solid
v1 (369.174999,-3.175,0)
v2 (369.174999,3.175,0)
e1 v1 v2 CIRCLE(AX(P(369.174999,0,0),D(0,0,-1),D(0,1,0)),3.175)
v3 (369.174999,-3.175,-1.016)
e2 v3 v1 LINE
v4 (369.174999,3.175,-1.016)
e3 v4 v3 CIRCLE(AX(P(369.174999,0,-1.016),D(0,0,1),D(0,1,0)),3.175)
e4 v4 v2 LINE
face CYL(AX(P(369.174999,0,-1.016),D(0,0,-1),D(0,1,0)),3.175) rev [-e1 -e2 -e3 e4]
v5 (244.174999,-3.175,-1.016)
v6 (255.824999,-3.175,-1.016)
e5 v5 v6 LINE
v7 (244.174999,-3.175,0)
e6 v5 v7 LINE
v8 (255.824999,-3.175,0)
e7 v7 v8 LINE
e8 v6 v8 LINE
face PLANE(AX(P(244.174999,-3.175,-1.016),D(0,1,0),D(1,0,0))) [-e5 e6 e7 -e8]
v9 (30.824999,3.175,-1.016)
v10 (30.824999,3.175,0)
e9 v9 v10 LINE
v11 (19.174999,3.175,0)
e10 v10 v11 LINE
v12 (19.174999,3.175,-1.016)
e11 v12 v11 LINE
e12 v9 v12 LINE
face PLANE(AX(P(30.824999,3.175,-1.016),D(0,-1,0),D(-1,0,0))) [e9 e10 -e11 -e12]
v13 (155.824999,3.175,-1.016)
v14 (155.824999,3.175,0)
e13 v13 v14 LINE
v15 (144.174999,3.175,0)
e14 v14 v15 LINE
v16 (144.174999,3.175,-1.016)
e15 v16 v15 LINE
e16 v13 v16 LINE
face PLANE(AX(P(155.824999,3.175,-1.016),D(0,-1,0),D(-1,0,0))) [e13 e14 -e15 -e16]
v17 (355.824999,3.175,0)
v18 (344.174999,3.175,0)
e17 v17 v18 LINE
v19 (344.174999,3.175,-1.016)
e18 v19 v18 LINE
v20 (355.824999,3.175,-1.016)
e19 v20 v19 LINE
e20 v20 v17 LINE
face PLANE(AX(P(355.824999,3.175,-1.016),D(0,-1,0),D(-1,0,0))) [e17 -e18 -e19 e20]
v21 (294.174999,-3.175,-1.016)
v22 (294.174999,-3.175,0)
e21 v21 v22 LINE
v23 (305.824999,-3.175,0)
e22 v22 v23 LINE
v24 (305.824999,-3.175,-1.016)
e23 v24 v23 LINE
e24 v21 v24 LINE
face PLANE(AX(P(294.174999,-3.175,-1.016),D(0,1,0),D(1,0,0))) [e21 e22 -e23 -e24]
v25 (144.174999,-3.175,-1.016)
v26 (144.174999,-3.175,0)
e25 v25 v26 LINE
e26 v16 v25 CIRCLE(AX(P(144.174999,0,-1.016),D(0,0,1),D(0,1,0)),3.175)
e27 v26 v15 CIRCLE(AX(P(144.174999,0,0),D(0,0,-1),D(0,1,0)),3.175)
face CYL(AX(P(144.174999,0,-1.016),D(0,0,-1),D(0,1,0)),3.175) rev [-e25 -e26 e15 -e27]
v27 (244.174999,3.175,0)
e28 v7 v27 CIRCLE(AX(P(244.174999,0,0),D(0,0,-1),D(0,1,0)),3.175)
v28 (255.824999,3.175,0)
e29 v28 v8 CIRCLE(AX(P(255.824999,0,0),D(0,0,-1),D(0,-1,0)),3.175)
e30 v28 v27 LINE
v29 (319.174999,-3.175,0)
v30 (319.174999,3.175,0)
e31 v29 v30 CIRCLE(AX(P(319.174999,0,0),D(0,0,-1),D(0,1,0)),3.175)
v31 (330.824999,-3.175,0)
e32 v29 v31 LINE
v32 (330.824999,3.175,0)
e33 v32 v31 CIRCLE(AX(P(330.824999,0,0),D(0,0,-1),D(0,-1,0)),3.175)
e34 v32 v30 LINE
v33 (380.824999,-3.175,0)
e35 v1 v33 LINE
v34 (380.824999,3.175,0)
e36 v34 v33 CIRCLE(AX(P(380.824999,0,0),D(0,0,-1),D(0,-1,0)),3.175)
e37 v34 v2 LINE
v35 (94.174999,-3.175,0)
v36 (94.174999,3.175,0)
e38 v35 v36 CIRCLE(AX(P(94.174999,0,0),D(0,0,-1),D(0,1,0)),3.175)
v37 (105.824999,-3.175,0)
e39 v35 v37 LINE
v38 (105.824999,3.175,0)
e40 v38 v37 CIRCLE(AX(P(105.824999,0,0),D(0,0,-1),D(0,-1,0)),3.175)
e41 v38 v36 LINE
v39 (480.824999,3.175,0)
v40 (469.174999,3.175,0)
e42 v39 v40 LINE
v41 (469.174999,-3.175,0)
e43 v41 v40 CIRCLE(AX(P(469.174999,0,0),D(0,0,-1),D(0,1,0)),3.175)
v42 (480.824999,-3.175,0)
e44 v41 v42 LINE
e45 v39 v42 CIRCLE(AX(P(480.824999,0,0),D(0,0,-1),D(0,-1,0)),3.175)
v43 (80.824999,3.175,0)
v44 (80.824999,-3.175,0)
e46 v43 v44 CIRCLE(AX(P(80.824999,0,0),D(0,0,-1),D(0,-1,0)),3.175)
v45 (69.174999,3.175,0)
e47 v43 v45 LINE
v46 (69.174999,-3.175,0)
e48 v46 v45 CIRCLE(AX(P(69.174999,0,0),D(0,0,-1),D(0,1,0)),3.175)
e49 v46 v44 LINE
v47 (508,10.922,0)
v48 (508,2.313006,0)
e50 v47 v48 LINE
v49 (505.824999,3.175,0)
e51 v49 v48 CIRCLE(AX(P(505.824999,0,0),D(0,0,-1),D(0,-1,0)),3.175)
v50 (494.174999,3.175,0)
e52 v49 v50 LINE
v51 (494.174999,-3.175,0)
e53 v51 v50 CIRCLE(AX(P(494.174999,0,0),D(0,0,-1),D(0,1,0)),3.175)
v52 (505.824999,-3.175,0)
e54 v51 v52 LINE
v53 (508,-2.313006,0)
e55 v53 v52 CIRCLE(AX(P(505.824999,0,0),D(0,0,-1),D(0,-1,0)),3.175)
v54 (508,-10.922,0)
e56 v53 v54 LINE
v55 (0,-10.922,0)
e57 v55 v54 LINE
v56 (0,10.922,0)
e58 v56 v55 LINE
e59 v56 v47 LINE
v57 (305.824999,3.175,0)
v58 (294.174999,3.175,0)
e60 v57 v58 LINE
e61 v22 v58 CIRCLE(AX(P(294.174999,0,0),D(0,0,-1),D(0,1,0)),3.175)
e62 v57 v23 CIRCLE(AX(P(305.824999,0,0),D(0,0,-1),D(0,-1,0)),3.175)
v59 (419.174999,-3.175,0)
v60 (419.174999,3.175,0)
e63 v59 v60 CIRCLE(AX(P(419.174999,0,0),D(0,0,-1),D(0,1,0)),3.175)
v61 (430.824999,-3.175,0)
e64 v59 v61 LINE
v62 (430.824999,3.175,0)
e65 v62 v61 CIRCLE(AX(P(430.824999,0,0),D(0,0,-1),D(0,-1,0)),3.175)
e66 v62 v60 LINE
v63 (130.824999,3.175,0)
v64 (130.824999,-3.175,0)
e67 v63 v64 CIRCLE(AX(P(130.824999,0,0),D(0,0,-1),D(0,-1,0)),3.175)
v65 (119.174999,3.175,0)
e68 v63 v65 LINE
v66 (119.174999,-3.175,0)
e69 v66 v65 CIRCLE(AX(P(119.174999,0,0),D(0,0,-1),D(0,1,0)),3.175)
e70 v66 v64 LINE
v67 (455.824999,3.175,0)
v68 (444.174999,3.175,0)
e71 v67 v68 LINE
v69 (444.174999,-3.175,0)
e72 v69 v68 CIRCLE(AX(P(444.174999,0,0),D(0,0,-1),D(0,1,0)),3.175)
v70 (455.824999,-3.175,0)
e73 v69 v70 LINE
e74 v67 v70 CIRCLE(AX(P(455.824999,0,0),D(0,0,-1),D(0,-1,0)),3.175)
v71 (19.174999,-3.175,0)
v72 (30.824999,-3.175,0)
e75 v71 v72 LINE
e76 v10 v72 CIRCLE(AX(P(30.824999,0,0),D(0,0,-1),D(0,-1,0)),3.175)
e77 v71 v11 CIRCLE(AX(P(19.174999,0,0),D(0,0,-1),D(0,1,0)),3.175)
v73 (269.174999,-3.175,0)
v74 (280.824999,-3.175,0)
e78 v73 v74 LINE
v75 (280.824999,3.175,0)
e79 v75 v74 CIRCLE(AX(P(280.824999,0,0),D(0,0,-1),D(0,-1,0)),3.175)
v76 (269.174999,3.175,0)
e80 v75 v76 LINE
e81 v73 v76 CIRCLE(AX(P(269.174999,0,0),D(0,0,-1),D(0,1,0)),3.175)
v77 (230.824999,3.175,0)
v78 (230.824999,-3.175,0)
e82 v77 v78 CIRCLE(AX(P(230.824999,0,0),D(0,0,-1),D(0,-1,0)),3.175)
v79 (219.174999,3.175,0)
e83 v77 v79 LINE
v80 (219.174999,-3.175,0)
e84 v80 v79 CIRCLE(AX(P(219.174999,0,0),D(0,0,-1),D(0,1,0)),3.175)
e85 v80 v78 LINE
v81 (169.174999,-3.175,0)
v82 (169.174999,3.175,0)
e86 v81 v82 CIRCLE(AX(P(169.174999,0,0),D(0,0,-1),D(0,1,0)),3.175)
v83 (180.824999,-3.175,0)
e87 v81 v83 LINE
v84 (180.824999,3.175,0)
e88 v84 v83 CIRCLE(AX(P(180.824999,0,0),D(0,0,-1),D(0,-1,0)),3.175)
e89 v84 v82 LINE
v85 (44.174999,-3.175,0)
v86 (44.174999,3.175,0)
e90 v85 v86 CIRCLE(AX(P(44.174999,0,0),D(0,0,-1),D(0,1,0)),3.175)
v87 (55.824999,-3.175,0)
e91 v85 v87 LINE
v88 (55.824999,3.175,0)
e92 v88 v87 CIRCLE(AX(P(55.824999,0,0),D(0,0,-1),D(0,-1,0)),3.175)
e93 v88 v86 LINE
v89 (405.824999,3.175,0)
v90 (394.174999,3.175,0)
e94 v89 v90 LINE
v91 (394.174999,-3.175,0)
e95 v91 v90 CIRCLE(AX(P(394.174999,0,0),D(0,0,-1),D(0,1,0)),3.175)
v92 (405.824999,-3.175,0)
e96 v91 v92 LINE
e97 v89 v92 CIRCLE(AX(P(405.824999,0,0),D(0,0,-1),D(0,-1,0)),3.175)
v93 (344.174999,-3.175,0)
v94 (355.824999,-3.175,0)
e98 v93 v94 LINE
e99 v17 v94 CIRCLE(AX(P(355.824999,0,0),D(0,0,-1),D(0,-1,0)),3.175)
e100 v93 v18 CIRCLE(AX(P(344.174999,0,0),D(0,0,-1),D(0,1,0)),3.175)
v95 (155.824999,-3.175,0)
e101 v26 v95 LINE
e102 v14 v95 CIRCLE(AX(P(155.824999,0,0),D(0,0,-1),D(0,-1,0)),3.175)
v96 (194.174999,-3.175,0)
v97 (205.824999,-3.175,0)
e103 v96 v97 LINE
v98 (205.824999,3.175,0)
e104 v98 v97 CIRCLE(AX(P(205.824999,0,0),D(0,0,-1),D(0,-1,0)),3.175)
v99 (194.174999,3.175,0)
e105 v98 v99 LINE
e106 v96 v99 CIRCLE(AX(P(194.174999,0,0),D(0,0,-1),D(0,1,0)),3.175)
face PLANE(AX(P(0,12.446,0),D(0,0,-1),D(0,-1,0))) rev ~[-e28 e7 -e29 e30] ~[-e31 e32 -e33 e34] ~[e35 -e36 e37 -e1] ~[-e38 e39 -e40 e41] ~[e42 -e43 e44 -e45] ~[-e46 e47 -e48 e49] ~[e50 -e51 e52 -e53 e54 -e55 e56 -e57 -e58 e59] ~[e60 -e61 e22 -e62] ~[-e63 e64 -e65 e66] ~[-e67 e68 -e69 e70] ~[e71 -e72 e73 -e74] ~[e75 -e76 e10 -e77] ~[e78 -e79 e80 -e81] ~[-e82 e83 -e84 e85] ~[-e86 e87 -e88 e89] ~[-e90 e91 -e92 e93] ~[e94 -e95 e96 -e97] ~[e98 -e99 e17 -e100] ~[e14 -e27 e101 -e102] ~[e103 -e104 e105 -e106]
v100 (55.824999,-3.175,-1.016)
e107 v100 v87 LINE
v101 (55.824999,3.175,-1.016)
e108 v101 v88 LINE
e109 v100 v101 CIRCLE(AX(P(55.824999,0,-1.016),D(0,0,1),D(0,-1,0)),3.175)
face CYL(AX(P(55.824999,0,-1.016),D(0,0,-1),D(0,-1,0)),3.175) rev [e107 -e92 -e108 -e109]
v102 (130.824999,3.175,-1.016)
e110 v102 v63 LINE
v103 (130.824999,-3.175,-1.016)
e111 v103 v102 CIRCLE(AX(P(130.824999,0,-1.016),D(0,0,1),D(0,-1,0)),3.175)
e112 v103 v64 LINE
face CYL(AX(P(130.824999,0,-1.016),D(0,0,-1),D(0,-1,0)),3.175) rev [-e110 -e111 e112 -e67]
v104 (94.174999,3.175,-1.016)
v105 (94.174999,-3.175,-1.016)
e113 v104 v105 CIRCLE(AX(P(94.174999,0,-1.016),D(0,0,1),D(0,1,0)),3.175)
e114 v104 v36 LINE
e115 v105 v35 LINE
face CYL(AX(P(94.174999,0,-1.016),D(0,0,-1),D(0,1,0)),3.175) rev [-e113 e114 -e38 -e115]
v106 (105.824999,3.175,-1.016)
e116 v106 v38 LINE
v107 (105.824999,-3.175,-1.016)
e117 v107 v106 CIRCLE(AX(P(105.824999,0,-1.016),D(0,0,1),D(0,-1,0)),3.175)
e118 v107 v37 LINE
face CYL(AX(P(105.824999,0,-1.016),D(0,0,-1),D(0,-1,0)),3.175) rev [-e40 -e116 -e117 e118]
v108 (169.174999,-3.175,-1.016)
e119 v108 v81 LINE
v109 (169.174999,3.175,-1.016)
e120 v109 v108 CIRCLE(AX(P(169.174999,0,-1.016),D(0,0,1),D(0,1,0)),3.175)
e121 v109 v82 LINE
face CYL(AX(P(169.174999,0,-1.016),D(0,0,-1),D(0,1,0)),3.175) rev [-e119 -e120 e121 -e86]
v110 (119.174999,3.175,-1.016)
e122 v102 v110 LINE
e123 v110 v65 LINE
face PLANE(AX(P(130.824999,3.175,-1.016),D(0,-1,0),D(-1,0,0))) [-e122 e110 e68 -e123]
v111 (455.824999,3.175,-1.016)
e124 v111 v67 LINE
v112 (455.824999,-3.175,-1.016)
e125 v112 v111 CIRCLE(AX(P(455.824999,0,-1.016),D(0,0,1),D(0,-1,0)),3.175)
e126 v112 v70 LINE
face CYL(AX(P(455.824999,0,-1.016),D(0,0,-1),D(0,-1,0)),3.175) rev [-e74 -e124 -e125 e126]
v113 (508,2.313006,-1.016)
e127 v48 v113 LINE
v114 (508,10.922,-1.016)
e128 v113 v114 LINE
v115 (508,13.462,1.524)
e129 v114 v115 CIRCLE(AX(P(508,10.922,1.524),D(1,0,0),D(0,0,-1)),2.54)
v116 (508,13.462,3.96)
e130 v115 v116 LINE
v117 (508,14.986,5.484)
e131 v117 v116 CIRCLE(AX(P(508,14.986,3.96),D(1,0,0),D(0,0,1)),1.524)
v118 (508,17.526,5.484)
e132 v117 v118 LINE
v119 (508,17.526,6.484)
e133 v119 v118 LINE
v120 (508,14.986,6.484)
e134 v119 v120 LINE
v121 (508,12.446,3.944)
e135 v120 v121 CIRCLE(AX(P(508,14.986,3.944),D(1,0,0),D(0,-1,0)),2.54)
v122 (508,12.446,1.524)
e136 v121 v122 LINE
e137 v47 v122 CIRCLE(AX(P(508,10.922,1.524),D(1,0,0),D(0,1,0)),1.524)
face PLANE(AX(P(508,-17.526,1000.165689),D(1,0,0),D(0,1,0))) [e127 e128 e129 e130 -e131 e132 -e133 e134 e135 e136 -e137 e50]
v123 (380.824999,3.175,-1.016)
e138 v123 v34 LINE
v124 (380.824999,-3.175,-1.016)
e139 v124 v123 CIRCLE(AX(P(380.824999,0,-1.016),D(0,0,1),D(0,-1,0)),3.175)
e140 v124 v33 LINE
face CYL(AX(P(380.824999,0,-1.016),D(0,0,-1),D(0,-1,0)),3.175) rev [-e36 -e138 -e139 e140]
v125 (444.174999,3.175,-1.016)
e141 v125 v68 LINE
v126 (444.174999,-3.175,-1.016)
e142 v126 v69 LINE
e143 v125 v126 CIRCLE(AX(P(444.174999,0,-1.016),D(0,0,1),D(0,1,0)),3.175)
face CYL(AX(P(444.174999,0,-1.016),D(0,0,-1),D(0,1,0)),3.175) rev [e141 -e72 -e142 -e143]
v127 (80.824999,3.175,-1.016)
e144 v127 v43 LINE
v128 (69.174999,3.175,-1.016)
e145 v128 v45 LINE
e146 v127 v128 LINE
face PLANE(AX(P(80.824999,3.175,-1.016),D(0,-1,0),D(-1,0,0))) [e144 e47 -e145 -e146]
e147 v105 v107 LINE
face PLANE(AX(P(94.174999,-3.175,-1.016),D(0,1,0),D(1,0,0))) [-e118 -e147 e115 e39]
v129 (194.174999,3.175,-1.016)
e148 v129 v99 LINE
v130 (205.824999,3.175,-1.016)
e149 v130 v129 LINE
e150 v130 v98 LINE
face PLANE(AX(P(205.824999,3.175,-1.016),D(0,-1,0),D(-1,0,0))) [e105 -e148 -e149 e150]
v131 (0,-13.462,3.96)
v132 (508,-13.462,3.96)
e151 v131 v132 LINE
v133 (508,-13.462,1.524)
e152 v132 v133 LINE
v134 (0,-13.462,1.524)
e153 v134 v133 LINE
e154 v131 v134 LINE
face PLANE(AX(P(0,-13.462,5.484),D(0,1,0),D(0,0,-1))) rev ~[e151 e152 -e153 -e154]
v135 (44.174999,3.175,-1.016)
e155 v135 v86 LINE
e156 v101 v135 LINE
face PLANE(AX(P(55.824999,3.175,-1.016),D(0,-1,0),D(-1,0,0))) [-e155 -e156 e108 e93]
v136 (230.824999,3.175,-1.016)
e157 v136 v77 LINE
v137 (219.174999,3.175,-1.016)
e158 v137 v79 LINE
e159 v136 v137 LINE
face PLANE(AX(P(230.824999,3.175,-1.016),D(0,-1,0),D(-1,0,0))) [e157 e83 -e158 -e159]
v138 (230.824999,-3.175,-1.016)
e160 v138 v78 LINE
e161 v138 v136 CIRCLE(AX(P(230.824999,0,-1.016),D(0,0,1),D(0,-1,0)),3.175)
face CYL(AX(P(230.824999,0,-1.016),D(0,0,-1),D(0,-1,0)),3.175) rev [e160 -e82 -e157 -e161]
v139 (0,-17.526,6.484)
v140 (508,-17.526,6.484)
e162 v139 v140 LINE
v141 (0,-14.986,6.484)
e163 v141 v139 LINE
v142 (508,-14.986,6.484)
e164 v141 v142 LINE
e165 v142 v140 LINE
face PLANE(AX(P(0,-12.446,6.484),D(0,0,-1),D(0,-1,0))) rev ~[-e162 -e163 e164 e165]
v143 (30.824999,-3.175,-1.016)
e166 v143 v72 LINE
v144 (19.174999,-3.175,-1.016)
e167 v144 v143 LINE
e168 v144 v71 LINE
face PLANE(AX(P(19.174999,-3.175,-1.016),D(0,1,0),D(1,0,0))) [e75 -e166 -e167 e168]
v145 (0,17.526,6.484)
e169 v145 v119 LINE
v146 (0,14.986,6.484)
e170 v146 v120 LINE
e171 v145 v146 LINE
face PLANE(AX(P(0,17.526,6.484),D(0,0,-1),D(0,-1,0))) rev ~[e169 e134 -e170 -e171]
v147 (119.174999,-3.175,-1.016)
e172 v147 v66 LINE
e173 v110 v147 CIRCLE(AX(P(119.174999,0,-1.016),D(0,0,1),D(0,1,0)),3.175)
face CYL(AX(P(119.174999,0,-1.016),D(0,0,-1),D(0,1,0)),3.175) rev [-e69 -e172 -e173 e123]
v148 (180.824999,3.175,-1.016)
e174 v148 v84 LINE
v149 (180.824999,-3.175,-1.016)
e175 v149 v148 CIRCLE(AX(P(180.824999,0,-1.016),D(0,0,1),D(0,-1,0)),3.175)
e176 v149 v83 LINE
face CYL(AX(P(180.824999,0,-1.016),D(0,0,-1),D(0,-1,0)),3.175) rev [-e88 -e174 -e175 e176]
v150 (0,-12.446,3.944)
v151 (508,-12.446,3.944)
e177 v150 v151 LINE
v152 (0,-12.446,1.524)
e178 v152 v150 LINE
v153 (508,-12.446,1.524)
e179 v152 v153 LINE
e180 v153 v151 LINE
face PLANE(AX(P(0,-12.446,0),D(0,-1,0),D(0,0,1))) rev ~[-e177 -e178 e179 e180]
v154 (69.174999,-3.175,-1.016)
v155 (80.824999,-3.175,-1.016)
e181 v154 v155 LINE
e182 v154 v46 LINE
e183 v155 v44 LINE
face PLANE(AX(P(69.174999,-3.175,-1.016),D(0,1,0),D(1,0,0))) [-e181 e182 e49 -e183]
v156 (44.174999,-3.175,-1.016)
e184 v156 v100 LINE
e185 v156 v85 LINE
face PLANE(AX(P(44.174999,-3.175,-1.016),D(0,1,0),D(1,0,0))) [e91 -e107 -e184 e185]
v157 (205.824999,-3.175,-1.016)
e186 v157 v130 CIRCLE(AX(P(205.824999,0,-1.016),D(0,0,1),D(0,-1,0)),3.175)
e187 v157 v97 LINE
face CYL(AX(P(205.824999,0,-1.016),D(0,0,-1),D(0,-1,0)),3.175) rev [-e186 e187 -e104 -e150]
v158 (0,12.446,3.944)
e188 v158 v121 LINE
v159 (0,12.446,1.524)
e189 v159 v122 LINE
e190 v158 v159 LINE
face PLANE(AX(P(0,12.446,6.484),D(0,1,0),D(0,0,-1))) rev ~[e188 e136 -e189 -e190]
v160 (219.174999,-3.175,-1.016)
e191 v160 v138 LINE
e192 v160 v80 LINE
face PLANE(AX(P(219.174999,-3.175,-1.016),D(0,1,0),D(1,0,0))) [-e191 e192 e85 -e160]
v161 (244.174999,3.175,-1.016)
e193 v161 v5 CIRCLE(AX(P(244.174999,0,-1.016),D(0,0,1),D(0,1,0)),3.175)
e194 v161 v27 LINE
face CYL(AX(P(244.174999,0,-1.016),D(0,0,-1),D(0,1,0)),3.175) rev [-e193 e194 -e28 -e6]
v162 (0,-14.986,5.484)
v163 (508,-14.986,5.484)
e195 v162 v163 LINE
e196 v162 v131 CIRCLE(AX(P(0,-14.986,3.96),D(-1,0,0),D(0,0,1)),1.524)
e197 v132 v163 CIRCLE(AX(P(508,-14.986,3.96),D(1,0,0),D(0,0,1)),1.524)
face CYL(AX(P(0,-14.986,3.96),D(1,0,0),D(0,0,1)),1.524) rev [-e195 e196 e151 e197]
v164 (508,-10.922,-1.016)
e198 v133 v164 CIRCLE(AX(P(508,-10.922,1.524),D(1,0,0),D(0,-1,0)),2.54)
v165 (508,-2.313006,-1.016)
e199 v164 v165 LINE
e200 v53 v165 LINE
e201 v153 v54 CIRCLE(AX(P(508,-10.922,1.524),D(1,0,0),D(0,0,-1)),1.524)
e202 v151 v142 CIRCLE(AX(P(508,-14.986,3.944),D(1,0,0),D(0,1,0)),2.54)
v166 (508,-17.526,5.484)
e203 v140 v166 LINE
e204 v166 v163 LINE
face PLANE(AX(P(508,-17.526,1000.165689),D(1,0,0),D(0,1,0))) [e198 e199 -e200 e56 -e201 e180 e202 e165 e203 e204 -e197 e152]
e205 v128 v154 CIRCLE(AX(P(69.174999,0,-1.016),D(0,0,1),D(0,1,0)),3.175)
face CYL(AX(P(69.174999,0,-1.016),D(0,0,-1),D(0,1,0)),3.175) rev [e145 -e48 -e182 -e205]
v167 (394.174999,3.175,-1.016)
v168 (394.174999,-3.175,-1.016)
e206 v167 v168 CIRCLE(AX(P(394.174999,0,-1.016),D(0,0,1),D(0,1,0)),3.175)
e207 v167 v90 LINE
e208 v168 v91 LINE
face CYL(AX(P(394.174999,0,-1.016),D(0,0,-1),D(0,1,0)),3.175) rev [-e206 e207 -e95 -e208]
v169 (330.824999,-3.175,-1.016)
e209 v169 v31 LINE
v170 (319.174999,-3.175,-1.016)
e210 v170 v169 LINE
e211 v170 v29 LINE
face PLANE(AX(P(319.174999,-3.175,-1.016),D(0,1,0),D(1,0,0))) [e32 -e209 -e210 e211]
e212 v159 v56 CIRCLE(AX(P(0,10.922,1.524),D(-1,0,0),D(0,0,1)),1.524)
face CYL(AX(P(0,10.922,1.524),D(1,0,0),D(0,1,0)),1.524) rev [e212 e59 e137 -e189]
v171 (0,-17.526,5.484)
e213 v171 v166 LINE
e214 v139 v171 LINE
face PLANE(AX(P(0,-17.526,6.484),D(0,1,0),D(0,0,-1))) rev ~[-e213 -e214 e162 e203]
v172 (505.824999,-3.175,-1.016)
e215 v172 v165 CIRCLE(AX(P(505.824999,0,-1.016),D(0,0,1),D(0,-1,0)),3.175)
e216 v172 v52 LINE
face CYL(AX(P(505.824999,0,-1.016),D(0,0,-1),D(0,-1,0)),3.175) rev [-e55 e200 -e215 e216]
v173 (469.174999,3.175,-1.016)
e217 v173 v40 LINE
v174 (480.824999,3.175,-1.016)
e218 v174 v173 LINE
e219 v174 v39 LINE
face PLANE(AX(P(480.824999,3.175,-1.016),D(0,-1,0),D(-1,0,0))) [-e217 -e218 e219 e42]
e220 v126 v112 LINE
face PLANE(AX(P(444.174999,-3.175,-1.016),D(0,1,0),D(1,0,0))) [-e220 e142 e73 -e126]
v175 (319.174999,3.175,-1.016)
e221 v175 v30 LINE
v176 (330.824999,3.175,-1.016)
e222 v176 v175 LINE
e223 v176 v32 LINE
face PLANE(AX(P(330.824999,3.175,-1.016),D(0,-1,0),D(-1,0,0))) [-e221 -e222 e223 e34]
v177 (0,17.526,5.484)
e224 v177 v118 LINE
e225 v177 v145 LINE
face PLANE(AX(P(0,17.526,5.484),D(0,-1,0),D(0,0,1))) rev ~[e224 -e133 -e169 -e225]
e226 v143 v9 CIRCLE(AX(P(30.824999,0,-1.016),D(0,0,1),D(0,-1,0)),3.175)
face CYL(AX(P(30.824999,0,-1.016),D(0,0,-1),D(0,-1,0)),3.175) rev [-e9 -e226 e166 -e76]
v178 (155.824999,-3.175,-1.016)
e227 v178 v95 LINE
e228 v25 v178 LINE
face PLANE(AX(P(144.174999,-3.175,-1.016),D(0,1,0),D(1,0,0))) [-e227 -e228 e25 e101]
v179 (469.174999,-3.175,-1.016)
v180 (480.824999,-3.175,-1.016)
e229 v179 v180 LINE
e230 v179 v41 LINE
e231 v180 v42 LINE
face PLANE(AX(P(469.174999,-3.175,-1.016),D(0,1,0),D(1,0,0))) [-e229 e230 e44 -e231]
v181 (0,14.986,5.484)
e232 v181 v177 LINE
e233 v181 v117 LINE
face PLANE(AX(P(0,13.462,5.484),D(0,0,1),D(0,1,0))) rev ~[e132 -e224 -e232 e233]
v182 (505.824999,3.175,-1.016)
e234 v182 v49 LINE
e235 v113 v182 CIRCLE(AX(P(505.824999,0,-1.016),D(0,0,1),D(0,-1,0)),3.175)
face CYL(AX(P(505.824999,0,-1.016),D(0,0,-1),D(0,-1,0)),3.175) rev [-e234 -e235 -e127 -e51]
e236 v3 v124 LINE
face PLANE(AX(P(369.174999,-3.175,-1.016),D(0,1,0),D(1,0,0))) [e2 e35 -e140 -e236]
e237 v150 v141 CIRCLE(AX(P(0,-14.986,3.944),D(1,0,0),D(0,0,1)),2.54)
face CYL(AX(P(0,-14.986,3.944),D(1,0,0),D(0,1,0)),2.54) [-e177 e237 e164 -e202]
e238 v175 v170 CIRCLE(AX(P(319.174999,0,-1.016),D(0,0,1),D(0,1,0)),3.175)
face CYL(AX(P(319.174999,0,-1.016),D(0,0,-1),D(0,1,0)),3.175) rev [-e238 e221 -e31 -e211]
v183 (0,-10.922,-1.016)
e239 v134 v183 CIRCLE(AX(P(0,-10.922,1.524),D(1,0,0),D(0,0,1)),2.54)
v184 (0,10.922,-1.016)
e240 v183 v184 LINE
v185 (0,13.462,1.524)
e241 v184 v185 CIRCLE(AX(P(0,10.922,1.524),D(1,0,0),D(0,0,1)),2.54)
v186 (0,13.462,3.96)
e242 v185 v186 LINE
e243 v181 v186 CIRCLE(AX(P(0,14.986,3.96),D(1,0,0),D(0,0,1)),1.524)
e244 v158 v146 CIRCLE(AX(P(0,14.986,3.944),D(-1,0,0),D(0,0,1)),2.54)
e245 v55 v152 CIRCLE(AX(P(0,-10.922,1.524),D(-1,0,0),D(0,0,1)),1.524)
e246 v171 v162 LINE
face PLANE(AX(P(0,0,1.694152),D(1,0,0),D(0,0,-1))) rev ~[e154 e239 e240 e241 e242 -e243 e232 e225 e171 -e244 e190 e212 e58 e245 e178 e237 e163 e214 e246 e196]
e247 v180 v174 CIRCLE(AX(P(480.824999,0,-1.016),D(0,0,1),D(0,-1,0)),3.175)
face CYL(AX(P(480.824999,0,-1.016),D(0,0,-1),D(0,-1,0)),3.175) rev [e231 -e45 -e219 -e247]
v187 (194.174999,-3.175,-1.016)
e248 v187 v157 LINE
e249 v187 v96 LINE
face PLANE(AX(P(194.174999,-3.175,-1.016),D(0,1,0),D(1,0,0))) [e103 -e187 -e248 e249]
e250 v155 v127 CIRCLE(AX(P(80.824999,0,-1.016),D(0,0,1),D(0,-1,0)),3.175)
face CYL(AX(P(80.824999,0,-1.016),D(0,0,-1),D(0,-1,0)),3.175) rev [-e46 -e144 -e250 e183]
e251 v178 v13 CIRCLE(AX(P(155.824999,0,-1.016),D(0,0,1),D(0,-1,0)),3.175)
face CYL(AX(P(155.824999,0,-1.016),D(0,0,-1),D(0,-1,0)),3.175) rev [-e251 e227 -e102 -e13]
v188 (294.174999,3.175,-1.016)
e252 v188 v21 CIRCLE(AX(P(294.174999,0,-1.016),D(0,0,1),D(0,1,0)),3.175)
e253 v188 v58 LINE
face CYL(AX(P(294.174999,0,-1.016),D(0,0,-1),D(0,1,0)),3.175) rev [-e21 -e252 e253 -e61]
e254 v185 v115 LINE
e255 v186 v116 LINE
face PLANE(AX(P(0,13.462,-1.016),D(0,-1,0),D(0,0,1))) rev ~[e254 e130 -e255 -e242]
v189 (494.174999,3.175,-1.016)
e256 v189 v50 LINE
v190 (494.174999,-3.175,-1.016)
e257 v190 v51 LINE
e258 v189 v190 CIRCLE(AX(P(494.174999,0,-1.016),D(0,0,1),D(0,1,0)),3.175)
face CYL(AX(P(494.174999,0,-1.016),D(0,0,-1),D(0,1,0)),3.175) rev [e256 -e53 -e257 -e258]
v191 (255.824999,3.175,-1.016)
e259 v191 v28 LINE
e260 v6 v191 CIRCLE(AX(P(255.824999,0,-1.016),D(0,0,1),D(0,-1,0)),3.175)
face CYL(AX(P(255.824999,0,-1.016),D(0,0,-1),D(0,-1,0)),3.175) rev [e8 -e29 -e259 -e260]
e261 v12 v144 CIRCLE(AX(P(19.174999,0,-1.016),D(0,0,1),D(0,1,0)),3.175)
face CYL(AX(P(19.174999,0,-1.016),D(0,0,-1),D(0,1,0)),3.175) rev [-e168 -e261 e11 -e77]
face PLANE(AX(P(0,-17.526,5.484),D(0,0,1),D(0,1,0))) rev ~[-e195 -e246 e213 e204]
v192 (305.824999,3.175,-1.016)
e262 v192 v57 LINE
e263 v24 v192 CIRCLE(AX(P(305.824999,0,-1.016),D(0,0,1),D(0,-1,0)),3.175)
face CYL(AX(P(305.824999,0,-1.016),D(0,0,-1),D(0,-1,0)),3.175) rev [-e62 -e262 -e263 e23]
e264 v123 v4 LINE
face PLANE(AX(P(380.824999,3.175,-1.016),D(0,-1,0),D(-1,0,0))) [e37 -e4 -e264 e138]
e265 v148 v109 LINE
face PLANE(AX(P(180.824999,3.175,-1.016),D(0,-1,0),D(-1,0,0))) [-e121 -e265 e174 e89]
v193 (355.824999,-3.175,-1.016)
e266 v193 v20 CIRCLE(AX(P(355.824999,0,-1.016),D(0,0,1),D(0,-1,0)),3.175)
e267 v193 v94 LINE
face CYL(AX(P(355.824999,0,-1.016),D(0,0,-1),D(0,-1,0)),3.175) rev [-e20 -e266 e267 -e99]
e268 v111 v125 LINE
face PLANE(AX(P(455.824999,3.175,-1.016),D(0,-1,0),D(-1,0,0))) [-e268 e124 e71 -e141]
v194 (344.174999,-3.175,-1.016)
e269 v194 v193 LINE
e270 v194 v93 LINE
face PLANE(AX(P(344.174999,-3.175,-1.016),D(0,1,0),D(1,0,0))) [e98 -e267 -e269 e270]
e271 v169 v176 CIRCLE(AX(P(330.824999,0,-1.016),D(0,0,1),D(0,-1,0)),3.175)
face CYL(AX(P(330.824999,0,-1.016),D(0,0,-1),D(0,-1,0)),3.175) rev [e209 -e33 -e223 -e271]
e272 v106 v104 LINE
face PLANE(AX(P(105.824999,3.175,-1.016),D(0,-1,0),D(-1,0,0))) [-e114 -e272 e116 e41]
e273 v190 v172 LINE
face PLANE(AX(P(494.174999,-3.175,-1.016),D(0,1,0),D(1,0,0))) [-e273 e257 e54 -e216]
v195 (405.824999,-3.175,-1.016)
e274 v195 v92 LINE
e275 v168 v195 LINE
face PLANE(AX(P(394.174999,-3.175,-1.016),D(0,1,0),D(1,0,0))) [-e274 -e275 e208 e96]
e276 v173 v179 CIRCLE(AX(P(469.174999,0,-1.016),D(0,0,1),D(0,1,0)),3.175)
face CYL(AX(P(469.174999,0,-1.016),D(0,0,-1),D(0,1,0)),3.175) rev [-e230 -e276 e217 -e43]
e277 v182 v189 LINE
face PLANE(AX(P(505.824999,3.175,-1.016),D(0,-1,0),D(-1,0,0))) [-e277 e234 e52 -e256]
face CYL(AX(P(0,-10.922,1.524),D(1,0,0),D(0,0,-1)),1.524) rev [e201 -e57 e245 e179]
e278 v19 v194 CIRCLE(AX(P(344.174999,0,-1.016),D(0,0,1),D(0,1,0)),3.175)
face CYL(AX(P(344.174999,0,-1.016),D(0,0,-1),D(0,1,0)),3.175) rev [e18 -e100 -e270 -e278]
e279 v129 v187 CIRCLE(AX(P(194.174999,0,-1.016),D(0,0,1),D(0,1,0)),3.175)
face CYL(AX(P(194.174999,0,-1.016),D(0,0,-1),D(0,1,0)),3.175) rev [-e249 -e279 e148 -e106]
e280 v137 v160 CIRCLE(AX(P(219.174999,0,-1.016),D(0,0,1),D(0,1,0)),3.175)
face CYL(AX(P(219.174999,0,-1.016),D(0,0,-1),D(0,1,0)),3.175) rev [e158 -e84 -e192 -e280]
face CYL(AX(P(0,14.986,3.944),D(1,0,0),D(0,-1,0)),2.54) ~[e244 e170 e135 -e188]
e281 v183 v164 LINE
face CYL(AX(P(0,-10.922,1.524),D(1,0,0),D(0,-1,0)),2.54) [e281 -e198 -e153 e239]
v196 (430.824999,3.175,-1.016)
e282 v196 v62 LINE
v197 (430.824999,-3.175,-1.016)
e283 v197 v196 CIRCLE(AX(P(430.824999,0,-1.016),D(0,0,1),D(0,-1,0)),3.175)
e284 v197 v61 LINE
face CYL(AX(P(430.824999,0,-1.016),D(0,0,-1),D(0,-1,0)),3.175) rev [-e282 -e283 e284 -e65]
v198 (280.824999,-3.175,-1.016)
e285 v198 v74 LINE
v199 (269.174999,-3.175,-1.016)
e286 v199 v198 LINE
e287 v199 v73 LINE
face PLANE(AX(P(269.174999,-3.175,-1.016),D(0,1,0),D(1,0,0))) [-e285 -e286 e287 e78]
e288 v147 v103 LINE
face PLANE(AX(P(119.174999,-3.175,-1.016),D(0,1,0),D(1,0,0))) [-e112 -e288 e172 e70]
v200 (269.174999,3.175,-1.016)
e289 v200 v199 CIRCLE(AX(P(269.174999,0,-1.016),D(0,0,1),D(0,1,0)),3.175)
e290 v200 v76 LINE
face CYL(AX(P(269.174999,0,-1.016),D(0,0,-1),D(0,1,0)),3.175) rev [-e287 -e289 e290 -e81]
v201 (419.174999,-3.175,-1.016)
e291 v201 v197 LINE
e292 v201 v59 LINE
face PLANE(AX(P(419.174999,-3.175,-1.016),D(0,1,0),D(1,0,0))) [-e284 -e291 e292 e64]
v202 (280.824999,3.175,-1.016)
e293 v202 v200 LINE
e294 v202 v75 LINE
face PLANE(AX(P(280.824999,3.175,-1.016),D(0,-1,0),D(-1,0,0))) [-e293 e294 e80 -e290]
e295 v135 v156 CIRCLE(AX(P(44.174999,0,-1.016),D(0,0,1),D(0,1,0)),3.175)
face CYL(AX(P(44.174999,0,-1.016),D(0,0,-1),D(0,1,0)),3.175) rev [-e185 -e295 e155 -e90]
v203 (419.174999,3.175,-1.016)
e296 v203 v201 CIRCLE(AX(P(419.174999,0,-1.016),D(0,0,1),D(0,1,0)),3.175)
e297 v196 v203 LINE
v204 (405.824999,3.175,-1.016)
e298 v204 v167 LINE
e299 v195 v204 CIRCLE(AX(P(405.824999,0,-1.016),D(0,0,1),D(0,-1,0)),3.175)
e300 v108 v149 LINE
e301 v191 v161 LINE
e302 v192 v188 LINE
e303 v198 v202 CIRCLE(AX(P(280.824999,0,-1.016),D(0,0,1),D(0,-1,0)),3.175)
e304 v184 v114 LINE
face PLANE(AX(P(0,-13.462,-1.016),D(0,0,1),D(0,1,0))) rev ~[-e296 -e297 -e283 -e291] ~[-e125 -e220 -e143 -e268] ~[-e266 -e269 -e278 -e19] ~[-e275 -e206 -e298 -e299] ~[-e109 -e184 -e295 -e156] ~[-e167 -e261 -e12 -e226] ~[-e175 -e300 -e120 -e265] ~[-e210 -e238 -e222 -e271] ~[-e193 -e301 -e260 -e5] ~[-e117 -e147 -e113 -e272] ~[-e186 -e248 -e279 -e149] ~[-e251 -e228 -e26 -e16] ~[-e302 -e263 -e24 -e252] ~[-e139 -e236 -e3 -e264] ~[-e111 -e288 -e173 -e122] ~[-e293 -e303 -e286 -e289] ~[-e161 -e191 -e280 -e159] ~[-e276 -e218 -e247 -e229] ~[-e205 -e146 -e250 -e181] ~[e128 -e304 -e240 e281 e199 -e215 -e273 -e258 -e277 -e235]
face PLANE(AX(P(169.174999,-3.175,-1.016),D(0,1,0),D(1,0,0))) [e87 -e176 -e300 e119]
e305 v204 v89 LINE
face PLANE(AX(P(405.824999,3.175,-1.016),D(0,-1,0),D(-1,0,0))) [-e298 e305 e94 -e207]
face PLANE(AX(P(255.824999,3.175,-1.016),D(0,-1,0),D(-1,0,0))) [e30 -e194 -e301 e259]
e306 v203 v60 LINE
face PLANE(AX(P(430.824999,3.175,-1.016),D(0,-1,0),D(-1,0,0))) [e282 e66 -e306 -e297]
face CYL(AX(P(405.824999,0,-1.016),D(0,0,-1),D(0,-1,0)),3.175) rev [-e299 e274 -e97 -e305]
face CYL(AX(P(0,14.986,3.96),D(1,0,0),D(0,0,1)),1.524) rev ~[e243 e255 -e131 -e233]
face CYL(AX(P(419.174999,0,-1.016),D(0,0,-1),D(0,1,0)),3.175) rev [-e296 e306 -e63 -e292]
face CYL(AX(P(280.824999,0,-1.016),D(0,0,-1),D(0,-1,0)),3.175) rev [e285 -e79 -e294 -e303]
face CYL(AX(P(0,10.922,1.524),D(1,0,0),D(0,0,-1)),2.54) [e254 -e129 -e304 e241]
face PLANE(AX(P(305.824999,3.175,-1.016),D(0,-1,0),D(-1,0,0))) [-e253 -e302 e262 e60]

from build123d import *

# Parameters (mm, degrees)
BOSS_EXTRUDE1_DEPTH     = 1000
CUT_EXTRUDE1_DEPTH      = 1001.181688833
FILLET1_R               = 2.54
FILLET2_R               = 1.524
CUT_EXTRUDE2_DEPTH      = 1001.181688833
CUT_EXTRUDE2_DEPTH_BACK = 1001.181688833
SKETCH3_W               = 492
SKETCH3_H               = 35.052


with BuildPart() as part:
    # Sketch1 → Boss-Extrude1 (new body)
    with BuildSketch(Plane(origin=(0, 0, 0), x_dir=(0, 0, -1), z_dir=(1, 0, 0))):
        Polygon((0, 12.446), (0, -12.446), (-6.484, -12.446), (-6.484, -17.526), (-5.484, -17.526), (-5.484, -13.462), (1.016, -13.462), (1.016, 13.462), (-5.484, 13.462), (-5.484, 17.526), (-6.484, 17.526), (-6.484, 12.446), align=None)
    extrude(amount=BOSS_EXTRUDE1_DEPTH)

    # Sketch2 → Cut-Extrude1 (cut, through all)
    with BuildSketch(Plane(origin=(0, 0, -1.016), x_dir=(-1, 0, 0), z_dir=(0, 0, -1))):
        with BuildLine():
            Line((-980.825, 3.175), (-969.175, 3.175))
            ThreePointArc((-969.175, 3.175), (-966, 0), (-969.175, -3.175))
            Line((-969.175, -3.175), (-980.825, -3.175))
            ThreePointArc((-980.825, -3.175), (-984, 0), (-980.825, 3.175))
        make_face()
        with BuildLine():
            Line((-955.824999962, 3.175), (-944.174999962, 3.175))
            ThreePointArc((-944.174999962, 3.175), (-940.999999962, 0), (-944.174999962, -3.175))
            Line((-944.174999962, -3.175), (-955.824999962, -3.175))
            ThreePointArc((-955.824999962, -3.175), (-958.999999962, 0), (-955.824999962, 3.175))
        make_face()
        with BuildLine():
            Line((-930.824999924, 3.175), (-919.174999924, 3.175))
            ThreePointArc((-919.174999924, 3.175), (-915.999999924, 0), (-919.174999924, -3.175))
            Line((-919.174999924, -3.175), (-930.824999924, -3.175))
            ThreePointArc((-930.824999924, -3.175), (-933.999999924, 0), (-930.824999924, 3.175))
        make_face()
        with BuildLine():
            Line((-905.824999886, 3.175), (-894.174999886, 3.175))
            ThreePointArc((-894.174999886, 3.175), (-890.999999886, 0), (-894.174999886, -3.175))
            Line((-894.174999886, -3.175), (-905.824999886, -3.175))
            ThreePointArc((-905.824999886, -3.175), (-908.999999886, 0), (-905.824999886, 3.175))
        make_face()
        with BuildLine():
            Line((-880.824999848, 3.175), (-869.174999848, 3.175))
            ThreePointArc((-869.174999848, 3.175), (-865.999999848, 0), (-869.174999848, -3.175))
            Line((-869.174999848, -3.175), (-880.824999848, -3.175))
            ThreePointArc((-880.824999848, -3.175), (-883.999999848, 0), (-880.824999848, 3.175))
        make_face()
        with BuildLine():
            Line((-855.82499981, 3.175), (-844.17499981, 3.175))
            ThreePointArc((-844.17499981, 3.175), (-840.99999981, 0), (-844.17499981, -3.175))
            Line((-844.17499981, -3.175), (-855.82499981, -3.175))
            ThreePointArc((-855.82499981, -3.175), (-858.99999981, 0), (-855.82499981, 3.175))
        make_face()
        with BuildLine():
            Line((-830.824999772, 3.175), (-819.174999772, 3.175))
            ThreePointArc((-819.174999772, 3.175), (-815.999999772, 0), (-819.174999772, -3.175))
            Line((-819.174999772, -3.175), (-830.824999772, -3.175))
            ThreePointArc((-830.824999772, -3.175), (-833.999999772, 0), (-830.824999772, 3.175))
        make_face()
        with BuildLine():
            Line((-805.824999734, 3.175), (-794.174999734, 3.175))
            ThreePointArc((-794.174999734, 3.175), (-790.999999734, 0), (-794.174999734, -3.175))
            Line((-794.174999734, -3.175), (-805.824999734, -3.175))
            ThreePointArc((-805.824999734, -3.175), (-808.999999734, 0), (-805.824999734, 3.175))
        make_face()
        with BuildLine():
            Line((-780.824999696, 3.175), (-769.174999696, 3.175))
            ThreePointArc((-769.174999696, 3.175), (-765.999999696, 0), (-769.174999696, -3.175))
            Line((-769.174999696, -3.175), (-780.824999696, -3.175))
            ThreePointArc((-780.824999696, -3.175), (-783.999999696, 0), (-780.824999696, 3.175))
        make_face()
        with BuildLine():
            Line((-755.824999658, 3.175), (-744.174999658, 3.175))
            ThreePointArc((-744.174999658, 3.175), (-740.999999658, 0), (-744.174999658, -3.175))
            Line((-744.174999658, -3.175), (-755.824999658, -3.175))
            ThreePointArc((-755.824999658, -3.175), (-758.999999658, 0), (-755.824999658, 3.175))
        make_face()
        with BuildLine():
            Line((-730.82499962, 3.175), (-719.17499962, 3.175))
            ThreePointArc((-719.17499962, 3.175), (-715.99999962, 0), (-719.17499962, -3.175))
            Line((-719.17499962, -3.175), (-730.82499962, -3.175))
            ThreePointArc((-730.82499962, -3.175), (-733.99999962, 0), (-730.82499962, 3.175))
        make_face()
        with BuildLine():
            Line((-705.824999582, 3.175), (-694.174999582, 3.175))
            ThreePointArc((-694.174999582, 3.175), (-690.999999582, 0), (-694.174999582, -3.175))
            Line((-694.174999582, -3.175), (-705.824999582, -3.175))
            ThreePointArc((-705.824999582, -3.175), (-708.999999582, 0), (-705.824999582, 3.175))
        make_face()
        with BuildLine():
            Line((-680.824999544, 3.175), (-669.174999544, 3.175))
            ThreePointArc((-669.174999544, 3.175), (-665.999999544, 0), (-669.174999544, -3.175))
            Line((-669.174999544, -3.175), (-680.824999544, -3.175))
            ThreePointArc((-680.824999544, -3.175), (-683.999999544, 0), (-680.824999544, 3.175))
        make_face()
        with BuildLine():
            Line((-655.824999506, 3.175), (-644.174999506, 3.175))
            ThreePointArc((-644.174999506, 3.175), (-640.999999506, 0), (-644.174999506, -3.175))
            Line((-644.174999506, -3.175), (-655.824999506, -3.175))
            ThreePointArc((-655.824999506, -3.175), (-658.999999506, 0), (-655.824999506, 3.175))
        make_face()
        with BuildLine():
            Line((-630.824999468, 3.175), (-619.174999468, 3.175))
            ThreePointArc((-619.174999468, 3.175), (-615.999999468, 0), (-619.174999468, -3.175))
            Line((-619.174999468, -3.175), (-630.824999468, -3.175))
            ThreePointArc((-630.824999468, -3.175), (-633.999999468, 0), (-630.824999468, 3.175))
        make_face()
        with BuildLine():
            Line((-605.82499943, 3.175), (-594.17499943, 3.175))
            ThreePointArc((-594.17499943, 3.175), (-590.99999943, 0), (-594.17499943, -3.175))
            Line((-594.17499943, -3.175), (-605.82499943, -3.175))
            ThreePointArc((-605.82499943, -3.175), (-608.99999943, 0), (-605.82499943, 3.175))
        make_face()
        with BuildLine():
            Line((-580.824999392, 3.175), (-569.174999392, 3.175))
            ThreePointArc((-569.174999392, 3.175), (-565.999999392, 0), (-569.174999392, -3.175))
            Line((-569.174999392, -3.175), (-580.824999392, -3.175))
            ThreePointArc((-580.824999392, -3.175), (-583.999999392, 0), (-580.824999392, 3.175))
        make_face()
        with BuildLine():
            Line((-555.824999354, 3.175), (-544.174999354, 3.175))
            ThreePointArc((-544.174999354, 3.175), (-540.999999354, 0), (-544.174999354, -3.175))
            Line((-544.174999354, -3.175), (-555.824999354, -3.175))
            ThreePointArc((-555.824999354, -3.175), (-558.999999354, 0), (-555.824999354, 3.175))
        make_face()
        with BuildLine():
            Line((-530.824999316, 3.175), (-519.174999316, 3.175))
            ThreePointArc((-519.174999316, 3.175), (-515.999999316, 0), (-519.174999316, -3.175))
            Line((-519.174999316, -3.175), (-530.824999316, -3.175))
            ThreePointArc((-530.824999316, -3.175), (-533.999999316, 0), (-530.824999316, 3.175))
        make_face()
        with BuildLine():
            Line((-505.824999278, 3.175), (-494.174999278, 3.175))
            ThreePointArc((-494.174999278, 3.175), (-490.999999278, 0), (-494.174999278, -3.175))
            Line((-494.174999278, -3.175), (-505.824999278, -3.175))
            ThreePointArc((-505.824999278, -3.175), (-508.999999278, 0), (-505.824999278, 3.175))
        make_face()
        with BuildLine():
            Line((-480.82499924, 3.175), (-469.17499924, 3.175))
            ThreePointArc((-469.17499924, 3.175), (-465.99999924, 0), (-469.17499924, -3.175))
            Line((-469.17499924, -3.175), (-480.82499924, -3.175))
            ThreePointArc((-480.82499924, -3.175), (-483.99999924, 0), (-480.82499924, 3.175))
        make_face()
        with BuildLine():
            Line((-455.824999202, 3.175), (-444.174999202, 3.175))
            ThreePointArc((-444.174999202, 3.175), (-440.999999202, 0), (-444.174999202, -3.175))
            Line((-444.174999202, -3.175), (-455.824999202, -3.175))
            ThreePointArc((-455.824999202, -3.175), (-458.999999202, 0), (-455.824999202, 3.175))
        make_face()
        with BuildLine():
            Line((-430.824999164, 3.175), (-419.174999164, 3.175))
            ThreePointArc((-419.174999164, 3.175), (-415.999999164, 0), (-419.174999164, -3.175))
            Line((-419.174999164, -3.175), (-430.824999164, -3.175))
            ThreePointArc((-430.824999164, -3.175), (-433.999999164, 0), (-430.824999164, 3.175))
        make_face()
        with BuildLine():
            Line((-405.824999126, 3.175), (-394.174999126, 3.175))
            ThreePointArc((-394.174999126, 3.175), (-390.999999126, 0), (-394.174999126, -3.175))
            Line((-394.174999126, -3.175), (-405.824999126, -3.175))
            ThreePointArc((-405.824999126, -3.175), (-408.999999126, 0), (-405.824999126, 3.175))
        make_face()
        with BuildLine():
            Line((-380.824999088, 3.175), (-369.174999088, 3.175))
            ThreePointArc((-369.174999088, 3.175), (-365.999999088, 0), (-369.174999088, -3.175))
            Line((-369.174999088, -3.175), (-380.824999088, -3.175))
            ThreePointArc((-380.824999088, -3.175), (-383.999999088, 0), (-380.824999088, 3.175))
        make_face()
        with BuildLine():
            Line((-355.82499905, 3.175), (-344.17499905, 3.175))
            ThreePointArc((-344.17499905, 3.175), (-340.99999905, 0), (-344.17499905, -3.175))
            Line((-344.17499905, -3.175), (-355.82499905, -3.175))
            ThreePointArc((-355.82499905, -3.175), (-358.99999905, 0), (-355.82499905, 3.175))
        make_face()
        with BuildLine():
            Line((-330.824999012, 3.175), (-319.174999012, 3.175))
            ThreePointArc((-319.174999012, 3.175), (-315.999999012, 0), (-319.174999012, -3.175))
            Line((-319.174999012, -3.175), (-330.824999012, -3.175))
            ThreePointArc((-330.824999012, -3.175), (-333.999999012, 0), (-330.824999012, 3.175))
        make_face()
        with BuildLine():
            Line((-305.824998974, 3.175), (-294.174998974, 3.175))
            ThreePointArc((-294.174998974, 3.175), (-290.999998974, 0), (-294.174998974, -3.175))
            Line((-294.174998974, -3.175), (-305.824998974, -3.175))
            ThreePointArc((-305.824998974, -3.175), (-308.999998974, 0), (-305.824998974, 3.175))
        make_face()
        with BuildLine():
            Line((-280.824998936, 3.175), (-269.174998936, 3.175))
            ThreePointArc((-269.174998936, 3.175), (-265.999998936, 0), (-269.174998936, -3.175))
            Line((-269.174998936, -3.175), (-280.824998936, -3.175))
            ThreePointArc((-280.824998936, -3.175), (-283.999998936, 0), (-280.824998936, 3.175))
        make_face()
        with BuildLine():
            Line((-255.824998898, 3.175), (-244.174998898, 3.175))
            ThreePointArc((-244.174998898, 3.175), (-240.999998898, 0), (-244.174998898, -3.175))
            Line((-244.174998898, -3.175), (-255.824998898, -3.175))
            ThreePointArc((-255.824998898, -3.175), (-258.999998898, 0), (-255.824998898, 3.175))
        make_face()
        with BuildLine():
            Line((-230.82499886, 3.175), (-219.17499886, 3.175))
            ThreePointArc((-219.17499886, 3.175), (-215.99999886, 0), (-219.17499886, -3.175))
            Line((-219.17499886, -3.175), (-230.82499886, -3.175))
            ThreePointArc((-230.82499886, -3.175), (-233.99999886, 0), (-230.82499886, 3.175))
        make_face()
        with BuildLine():
            Line((-205.824998822, 3.175), (-194.174998822, 3.175))
            ThreePointArc((-194.174998822, 3.175), (-190.999998822, 0), (-194.174998822, -3.175))
            Line((-194.174998822, -3.175), (-205.824998822, -3.175))
            ThreePointArc((-205.824998822, -3.175), (-208.999998822, 0), (-205.824998822, 3.175))
        make_face()
        with BuildLine():
            Line((-180.824998784, 3.175), (-169.174998784, 3.175))
            ThreePointArc((-169.174998784, 3.175), (-165.999998784, 0), (-169.174998784, -3.175))
            Line((-169.174998784, -3.175), (-180.824998784, -3.175))
            ThreePointArc((-180.824998784, -3.175), (-183.999998784, 0), (-180.824998784, 3.175))
        make_face()
        with BuildLine():
            Line((-155.824998746, 3.175), (-144.174998746, 3.175))
            ThreePointArc((-144.174998746, 3.175), (-140.999998746, 0), (-144.174998746, -3.175))
            Line((-144.174998746, -3.175), (-155.824998746, -3.175))
            ThreePointArc((-155.824998746, -3.175), (-158.999998746, 0), (-155.824998746, 3.175))
        make_face()
        with BuildLine():
            Line((-130.824998708, 3.175), (-119.174998708, 3.175))
            ThreePointArc((-119.174998708, 3.175), (-115.999998708, 0), (-119.174998708, -3.175))
            Line((-119.174998708, -3.175), (-130.824998708, -3.175))
            ThreePointArc((-130.824998708, -3.175), (-133.999998708, 0), (-130.824998708, 3.175))
        make_face()
        with BuildLine():
            Line((-105.82499867, 3.175), (-94.17499867, 3.175))
            ThreePointArc((-94.17499867, 3.175), (-90.99999867, 0), (-94.17499867, -3.175))
            Line((-94.17499867, -3.175), (-105.82499867, -3.175))
            ThreePointArc((-105.82499867, -3.175), (-108.99999867, 0), (-105.82499867, 3.175))
        make_face()
        with BuildLine():
            Line((-80.824998632, 3.175), (-69.174998632, 3.175))
            ThreePointArc((-69.174998632, 3.175), (-65.999998632, 0), (-69.174998632, -3.175))
            Line((-69.174998632, -3.175), (-80.824998632, -3.175))
            ThreePointArc((-80.824998632, -3.175), (-83.999998632, 0), (-80.824998632, 3.175))
        make_face()
        with BuildLine():
            Line((-55.824998594, 3.175), (-44.174998594, 3.175))
            ThreePointArc((-44.174998594, 3.175), (-40.999998594, 0), (-44.174998594, -3.175))
            Line((-44.174998594, -3.175), (-55.824998594, -3.175))
            ThreePointArc((-55.824998594, -3.175), (-58.999998594, 0), (-55.824998594, 3.175))
        make_face()
        with BuildLine():
            Line((-30.824998556, 3.175), (-19.174998556, 3.175))
            ThreePointArc((-19.174998556, 3.175), (-15.999998556, 0), (-19.174998556, -3.175))
            Line((-19.174998556, -3.175), (-30.824998556, -3.175))
            ThreePointArc((-30.824998556, -3.175), (-33.999998556, 0), (-30.824998556, 3.175))
        make_face()
    extrude(amount=-CUT_EXTRUDE1_DEPTH, mode=Mode.SUBTRACT)

    # Fillet1
    fillet1_edges = [part.edges().sort_by_distance(p)[0] for p in [
        (500, 13.462, -1.016),
        (500, -13.462, -1.016),
        (500, -12.446, 6.484),
        (500, 12.446, 6.484),
    ]]
    fillet(fillet1_edges, radius=FILLET1_R)

    # Fillet2
    fillet2_edges = [part.edges().sort_by_distance(p)[0] for p in [
        (500, 13.462, 5.484),
        (500, -13.462, 5.484),
        (500, -12.446, 0),
        (500, 12.446, 0),
    ]]
    fillet(fillet2_edges, radius=FILLET2_R)

    # Sketch3 → Cut-Extrude2 (cut, two sides: drawn at the far end of the back side and taken through both)
    with BuildSketch(Plane(origin=(0, 0, -1.016), x_dir=(-1, 0, 0), z_dir=(0, 0, -1)).offset(-CUT_EXTRUDE2_DEPTH_BACK)):
        with Locations((-754, 0)):
            Rectangle(SKETCH3_W, SKETCH3_H)
    extrude(amount=CUT_EXTRUDE2_DEPTH + CUT_EXTRUDE2_DEPTH_BACK, mode=Mode.SUBTRACT)


solid = part.part
